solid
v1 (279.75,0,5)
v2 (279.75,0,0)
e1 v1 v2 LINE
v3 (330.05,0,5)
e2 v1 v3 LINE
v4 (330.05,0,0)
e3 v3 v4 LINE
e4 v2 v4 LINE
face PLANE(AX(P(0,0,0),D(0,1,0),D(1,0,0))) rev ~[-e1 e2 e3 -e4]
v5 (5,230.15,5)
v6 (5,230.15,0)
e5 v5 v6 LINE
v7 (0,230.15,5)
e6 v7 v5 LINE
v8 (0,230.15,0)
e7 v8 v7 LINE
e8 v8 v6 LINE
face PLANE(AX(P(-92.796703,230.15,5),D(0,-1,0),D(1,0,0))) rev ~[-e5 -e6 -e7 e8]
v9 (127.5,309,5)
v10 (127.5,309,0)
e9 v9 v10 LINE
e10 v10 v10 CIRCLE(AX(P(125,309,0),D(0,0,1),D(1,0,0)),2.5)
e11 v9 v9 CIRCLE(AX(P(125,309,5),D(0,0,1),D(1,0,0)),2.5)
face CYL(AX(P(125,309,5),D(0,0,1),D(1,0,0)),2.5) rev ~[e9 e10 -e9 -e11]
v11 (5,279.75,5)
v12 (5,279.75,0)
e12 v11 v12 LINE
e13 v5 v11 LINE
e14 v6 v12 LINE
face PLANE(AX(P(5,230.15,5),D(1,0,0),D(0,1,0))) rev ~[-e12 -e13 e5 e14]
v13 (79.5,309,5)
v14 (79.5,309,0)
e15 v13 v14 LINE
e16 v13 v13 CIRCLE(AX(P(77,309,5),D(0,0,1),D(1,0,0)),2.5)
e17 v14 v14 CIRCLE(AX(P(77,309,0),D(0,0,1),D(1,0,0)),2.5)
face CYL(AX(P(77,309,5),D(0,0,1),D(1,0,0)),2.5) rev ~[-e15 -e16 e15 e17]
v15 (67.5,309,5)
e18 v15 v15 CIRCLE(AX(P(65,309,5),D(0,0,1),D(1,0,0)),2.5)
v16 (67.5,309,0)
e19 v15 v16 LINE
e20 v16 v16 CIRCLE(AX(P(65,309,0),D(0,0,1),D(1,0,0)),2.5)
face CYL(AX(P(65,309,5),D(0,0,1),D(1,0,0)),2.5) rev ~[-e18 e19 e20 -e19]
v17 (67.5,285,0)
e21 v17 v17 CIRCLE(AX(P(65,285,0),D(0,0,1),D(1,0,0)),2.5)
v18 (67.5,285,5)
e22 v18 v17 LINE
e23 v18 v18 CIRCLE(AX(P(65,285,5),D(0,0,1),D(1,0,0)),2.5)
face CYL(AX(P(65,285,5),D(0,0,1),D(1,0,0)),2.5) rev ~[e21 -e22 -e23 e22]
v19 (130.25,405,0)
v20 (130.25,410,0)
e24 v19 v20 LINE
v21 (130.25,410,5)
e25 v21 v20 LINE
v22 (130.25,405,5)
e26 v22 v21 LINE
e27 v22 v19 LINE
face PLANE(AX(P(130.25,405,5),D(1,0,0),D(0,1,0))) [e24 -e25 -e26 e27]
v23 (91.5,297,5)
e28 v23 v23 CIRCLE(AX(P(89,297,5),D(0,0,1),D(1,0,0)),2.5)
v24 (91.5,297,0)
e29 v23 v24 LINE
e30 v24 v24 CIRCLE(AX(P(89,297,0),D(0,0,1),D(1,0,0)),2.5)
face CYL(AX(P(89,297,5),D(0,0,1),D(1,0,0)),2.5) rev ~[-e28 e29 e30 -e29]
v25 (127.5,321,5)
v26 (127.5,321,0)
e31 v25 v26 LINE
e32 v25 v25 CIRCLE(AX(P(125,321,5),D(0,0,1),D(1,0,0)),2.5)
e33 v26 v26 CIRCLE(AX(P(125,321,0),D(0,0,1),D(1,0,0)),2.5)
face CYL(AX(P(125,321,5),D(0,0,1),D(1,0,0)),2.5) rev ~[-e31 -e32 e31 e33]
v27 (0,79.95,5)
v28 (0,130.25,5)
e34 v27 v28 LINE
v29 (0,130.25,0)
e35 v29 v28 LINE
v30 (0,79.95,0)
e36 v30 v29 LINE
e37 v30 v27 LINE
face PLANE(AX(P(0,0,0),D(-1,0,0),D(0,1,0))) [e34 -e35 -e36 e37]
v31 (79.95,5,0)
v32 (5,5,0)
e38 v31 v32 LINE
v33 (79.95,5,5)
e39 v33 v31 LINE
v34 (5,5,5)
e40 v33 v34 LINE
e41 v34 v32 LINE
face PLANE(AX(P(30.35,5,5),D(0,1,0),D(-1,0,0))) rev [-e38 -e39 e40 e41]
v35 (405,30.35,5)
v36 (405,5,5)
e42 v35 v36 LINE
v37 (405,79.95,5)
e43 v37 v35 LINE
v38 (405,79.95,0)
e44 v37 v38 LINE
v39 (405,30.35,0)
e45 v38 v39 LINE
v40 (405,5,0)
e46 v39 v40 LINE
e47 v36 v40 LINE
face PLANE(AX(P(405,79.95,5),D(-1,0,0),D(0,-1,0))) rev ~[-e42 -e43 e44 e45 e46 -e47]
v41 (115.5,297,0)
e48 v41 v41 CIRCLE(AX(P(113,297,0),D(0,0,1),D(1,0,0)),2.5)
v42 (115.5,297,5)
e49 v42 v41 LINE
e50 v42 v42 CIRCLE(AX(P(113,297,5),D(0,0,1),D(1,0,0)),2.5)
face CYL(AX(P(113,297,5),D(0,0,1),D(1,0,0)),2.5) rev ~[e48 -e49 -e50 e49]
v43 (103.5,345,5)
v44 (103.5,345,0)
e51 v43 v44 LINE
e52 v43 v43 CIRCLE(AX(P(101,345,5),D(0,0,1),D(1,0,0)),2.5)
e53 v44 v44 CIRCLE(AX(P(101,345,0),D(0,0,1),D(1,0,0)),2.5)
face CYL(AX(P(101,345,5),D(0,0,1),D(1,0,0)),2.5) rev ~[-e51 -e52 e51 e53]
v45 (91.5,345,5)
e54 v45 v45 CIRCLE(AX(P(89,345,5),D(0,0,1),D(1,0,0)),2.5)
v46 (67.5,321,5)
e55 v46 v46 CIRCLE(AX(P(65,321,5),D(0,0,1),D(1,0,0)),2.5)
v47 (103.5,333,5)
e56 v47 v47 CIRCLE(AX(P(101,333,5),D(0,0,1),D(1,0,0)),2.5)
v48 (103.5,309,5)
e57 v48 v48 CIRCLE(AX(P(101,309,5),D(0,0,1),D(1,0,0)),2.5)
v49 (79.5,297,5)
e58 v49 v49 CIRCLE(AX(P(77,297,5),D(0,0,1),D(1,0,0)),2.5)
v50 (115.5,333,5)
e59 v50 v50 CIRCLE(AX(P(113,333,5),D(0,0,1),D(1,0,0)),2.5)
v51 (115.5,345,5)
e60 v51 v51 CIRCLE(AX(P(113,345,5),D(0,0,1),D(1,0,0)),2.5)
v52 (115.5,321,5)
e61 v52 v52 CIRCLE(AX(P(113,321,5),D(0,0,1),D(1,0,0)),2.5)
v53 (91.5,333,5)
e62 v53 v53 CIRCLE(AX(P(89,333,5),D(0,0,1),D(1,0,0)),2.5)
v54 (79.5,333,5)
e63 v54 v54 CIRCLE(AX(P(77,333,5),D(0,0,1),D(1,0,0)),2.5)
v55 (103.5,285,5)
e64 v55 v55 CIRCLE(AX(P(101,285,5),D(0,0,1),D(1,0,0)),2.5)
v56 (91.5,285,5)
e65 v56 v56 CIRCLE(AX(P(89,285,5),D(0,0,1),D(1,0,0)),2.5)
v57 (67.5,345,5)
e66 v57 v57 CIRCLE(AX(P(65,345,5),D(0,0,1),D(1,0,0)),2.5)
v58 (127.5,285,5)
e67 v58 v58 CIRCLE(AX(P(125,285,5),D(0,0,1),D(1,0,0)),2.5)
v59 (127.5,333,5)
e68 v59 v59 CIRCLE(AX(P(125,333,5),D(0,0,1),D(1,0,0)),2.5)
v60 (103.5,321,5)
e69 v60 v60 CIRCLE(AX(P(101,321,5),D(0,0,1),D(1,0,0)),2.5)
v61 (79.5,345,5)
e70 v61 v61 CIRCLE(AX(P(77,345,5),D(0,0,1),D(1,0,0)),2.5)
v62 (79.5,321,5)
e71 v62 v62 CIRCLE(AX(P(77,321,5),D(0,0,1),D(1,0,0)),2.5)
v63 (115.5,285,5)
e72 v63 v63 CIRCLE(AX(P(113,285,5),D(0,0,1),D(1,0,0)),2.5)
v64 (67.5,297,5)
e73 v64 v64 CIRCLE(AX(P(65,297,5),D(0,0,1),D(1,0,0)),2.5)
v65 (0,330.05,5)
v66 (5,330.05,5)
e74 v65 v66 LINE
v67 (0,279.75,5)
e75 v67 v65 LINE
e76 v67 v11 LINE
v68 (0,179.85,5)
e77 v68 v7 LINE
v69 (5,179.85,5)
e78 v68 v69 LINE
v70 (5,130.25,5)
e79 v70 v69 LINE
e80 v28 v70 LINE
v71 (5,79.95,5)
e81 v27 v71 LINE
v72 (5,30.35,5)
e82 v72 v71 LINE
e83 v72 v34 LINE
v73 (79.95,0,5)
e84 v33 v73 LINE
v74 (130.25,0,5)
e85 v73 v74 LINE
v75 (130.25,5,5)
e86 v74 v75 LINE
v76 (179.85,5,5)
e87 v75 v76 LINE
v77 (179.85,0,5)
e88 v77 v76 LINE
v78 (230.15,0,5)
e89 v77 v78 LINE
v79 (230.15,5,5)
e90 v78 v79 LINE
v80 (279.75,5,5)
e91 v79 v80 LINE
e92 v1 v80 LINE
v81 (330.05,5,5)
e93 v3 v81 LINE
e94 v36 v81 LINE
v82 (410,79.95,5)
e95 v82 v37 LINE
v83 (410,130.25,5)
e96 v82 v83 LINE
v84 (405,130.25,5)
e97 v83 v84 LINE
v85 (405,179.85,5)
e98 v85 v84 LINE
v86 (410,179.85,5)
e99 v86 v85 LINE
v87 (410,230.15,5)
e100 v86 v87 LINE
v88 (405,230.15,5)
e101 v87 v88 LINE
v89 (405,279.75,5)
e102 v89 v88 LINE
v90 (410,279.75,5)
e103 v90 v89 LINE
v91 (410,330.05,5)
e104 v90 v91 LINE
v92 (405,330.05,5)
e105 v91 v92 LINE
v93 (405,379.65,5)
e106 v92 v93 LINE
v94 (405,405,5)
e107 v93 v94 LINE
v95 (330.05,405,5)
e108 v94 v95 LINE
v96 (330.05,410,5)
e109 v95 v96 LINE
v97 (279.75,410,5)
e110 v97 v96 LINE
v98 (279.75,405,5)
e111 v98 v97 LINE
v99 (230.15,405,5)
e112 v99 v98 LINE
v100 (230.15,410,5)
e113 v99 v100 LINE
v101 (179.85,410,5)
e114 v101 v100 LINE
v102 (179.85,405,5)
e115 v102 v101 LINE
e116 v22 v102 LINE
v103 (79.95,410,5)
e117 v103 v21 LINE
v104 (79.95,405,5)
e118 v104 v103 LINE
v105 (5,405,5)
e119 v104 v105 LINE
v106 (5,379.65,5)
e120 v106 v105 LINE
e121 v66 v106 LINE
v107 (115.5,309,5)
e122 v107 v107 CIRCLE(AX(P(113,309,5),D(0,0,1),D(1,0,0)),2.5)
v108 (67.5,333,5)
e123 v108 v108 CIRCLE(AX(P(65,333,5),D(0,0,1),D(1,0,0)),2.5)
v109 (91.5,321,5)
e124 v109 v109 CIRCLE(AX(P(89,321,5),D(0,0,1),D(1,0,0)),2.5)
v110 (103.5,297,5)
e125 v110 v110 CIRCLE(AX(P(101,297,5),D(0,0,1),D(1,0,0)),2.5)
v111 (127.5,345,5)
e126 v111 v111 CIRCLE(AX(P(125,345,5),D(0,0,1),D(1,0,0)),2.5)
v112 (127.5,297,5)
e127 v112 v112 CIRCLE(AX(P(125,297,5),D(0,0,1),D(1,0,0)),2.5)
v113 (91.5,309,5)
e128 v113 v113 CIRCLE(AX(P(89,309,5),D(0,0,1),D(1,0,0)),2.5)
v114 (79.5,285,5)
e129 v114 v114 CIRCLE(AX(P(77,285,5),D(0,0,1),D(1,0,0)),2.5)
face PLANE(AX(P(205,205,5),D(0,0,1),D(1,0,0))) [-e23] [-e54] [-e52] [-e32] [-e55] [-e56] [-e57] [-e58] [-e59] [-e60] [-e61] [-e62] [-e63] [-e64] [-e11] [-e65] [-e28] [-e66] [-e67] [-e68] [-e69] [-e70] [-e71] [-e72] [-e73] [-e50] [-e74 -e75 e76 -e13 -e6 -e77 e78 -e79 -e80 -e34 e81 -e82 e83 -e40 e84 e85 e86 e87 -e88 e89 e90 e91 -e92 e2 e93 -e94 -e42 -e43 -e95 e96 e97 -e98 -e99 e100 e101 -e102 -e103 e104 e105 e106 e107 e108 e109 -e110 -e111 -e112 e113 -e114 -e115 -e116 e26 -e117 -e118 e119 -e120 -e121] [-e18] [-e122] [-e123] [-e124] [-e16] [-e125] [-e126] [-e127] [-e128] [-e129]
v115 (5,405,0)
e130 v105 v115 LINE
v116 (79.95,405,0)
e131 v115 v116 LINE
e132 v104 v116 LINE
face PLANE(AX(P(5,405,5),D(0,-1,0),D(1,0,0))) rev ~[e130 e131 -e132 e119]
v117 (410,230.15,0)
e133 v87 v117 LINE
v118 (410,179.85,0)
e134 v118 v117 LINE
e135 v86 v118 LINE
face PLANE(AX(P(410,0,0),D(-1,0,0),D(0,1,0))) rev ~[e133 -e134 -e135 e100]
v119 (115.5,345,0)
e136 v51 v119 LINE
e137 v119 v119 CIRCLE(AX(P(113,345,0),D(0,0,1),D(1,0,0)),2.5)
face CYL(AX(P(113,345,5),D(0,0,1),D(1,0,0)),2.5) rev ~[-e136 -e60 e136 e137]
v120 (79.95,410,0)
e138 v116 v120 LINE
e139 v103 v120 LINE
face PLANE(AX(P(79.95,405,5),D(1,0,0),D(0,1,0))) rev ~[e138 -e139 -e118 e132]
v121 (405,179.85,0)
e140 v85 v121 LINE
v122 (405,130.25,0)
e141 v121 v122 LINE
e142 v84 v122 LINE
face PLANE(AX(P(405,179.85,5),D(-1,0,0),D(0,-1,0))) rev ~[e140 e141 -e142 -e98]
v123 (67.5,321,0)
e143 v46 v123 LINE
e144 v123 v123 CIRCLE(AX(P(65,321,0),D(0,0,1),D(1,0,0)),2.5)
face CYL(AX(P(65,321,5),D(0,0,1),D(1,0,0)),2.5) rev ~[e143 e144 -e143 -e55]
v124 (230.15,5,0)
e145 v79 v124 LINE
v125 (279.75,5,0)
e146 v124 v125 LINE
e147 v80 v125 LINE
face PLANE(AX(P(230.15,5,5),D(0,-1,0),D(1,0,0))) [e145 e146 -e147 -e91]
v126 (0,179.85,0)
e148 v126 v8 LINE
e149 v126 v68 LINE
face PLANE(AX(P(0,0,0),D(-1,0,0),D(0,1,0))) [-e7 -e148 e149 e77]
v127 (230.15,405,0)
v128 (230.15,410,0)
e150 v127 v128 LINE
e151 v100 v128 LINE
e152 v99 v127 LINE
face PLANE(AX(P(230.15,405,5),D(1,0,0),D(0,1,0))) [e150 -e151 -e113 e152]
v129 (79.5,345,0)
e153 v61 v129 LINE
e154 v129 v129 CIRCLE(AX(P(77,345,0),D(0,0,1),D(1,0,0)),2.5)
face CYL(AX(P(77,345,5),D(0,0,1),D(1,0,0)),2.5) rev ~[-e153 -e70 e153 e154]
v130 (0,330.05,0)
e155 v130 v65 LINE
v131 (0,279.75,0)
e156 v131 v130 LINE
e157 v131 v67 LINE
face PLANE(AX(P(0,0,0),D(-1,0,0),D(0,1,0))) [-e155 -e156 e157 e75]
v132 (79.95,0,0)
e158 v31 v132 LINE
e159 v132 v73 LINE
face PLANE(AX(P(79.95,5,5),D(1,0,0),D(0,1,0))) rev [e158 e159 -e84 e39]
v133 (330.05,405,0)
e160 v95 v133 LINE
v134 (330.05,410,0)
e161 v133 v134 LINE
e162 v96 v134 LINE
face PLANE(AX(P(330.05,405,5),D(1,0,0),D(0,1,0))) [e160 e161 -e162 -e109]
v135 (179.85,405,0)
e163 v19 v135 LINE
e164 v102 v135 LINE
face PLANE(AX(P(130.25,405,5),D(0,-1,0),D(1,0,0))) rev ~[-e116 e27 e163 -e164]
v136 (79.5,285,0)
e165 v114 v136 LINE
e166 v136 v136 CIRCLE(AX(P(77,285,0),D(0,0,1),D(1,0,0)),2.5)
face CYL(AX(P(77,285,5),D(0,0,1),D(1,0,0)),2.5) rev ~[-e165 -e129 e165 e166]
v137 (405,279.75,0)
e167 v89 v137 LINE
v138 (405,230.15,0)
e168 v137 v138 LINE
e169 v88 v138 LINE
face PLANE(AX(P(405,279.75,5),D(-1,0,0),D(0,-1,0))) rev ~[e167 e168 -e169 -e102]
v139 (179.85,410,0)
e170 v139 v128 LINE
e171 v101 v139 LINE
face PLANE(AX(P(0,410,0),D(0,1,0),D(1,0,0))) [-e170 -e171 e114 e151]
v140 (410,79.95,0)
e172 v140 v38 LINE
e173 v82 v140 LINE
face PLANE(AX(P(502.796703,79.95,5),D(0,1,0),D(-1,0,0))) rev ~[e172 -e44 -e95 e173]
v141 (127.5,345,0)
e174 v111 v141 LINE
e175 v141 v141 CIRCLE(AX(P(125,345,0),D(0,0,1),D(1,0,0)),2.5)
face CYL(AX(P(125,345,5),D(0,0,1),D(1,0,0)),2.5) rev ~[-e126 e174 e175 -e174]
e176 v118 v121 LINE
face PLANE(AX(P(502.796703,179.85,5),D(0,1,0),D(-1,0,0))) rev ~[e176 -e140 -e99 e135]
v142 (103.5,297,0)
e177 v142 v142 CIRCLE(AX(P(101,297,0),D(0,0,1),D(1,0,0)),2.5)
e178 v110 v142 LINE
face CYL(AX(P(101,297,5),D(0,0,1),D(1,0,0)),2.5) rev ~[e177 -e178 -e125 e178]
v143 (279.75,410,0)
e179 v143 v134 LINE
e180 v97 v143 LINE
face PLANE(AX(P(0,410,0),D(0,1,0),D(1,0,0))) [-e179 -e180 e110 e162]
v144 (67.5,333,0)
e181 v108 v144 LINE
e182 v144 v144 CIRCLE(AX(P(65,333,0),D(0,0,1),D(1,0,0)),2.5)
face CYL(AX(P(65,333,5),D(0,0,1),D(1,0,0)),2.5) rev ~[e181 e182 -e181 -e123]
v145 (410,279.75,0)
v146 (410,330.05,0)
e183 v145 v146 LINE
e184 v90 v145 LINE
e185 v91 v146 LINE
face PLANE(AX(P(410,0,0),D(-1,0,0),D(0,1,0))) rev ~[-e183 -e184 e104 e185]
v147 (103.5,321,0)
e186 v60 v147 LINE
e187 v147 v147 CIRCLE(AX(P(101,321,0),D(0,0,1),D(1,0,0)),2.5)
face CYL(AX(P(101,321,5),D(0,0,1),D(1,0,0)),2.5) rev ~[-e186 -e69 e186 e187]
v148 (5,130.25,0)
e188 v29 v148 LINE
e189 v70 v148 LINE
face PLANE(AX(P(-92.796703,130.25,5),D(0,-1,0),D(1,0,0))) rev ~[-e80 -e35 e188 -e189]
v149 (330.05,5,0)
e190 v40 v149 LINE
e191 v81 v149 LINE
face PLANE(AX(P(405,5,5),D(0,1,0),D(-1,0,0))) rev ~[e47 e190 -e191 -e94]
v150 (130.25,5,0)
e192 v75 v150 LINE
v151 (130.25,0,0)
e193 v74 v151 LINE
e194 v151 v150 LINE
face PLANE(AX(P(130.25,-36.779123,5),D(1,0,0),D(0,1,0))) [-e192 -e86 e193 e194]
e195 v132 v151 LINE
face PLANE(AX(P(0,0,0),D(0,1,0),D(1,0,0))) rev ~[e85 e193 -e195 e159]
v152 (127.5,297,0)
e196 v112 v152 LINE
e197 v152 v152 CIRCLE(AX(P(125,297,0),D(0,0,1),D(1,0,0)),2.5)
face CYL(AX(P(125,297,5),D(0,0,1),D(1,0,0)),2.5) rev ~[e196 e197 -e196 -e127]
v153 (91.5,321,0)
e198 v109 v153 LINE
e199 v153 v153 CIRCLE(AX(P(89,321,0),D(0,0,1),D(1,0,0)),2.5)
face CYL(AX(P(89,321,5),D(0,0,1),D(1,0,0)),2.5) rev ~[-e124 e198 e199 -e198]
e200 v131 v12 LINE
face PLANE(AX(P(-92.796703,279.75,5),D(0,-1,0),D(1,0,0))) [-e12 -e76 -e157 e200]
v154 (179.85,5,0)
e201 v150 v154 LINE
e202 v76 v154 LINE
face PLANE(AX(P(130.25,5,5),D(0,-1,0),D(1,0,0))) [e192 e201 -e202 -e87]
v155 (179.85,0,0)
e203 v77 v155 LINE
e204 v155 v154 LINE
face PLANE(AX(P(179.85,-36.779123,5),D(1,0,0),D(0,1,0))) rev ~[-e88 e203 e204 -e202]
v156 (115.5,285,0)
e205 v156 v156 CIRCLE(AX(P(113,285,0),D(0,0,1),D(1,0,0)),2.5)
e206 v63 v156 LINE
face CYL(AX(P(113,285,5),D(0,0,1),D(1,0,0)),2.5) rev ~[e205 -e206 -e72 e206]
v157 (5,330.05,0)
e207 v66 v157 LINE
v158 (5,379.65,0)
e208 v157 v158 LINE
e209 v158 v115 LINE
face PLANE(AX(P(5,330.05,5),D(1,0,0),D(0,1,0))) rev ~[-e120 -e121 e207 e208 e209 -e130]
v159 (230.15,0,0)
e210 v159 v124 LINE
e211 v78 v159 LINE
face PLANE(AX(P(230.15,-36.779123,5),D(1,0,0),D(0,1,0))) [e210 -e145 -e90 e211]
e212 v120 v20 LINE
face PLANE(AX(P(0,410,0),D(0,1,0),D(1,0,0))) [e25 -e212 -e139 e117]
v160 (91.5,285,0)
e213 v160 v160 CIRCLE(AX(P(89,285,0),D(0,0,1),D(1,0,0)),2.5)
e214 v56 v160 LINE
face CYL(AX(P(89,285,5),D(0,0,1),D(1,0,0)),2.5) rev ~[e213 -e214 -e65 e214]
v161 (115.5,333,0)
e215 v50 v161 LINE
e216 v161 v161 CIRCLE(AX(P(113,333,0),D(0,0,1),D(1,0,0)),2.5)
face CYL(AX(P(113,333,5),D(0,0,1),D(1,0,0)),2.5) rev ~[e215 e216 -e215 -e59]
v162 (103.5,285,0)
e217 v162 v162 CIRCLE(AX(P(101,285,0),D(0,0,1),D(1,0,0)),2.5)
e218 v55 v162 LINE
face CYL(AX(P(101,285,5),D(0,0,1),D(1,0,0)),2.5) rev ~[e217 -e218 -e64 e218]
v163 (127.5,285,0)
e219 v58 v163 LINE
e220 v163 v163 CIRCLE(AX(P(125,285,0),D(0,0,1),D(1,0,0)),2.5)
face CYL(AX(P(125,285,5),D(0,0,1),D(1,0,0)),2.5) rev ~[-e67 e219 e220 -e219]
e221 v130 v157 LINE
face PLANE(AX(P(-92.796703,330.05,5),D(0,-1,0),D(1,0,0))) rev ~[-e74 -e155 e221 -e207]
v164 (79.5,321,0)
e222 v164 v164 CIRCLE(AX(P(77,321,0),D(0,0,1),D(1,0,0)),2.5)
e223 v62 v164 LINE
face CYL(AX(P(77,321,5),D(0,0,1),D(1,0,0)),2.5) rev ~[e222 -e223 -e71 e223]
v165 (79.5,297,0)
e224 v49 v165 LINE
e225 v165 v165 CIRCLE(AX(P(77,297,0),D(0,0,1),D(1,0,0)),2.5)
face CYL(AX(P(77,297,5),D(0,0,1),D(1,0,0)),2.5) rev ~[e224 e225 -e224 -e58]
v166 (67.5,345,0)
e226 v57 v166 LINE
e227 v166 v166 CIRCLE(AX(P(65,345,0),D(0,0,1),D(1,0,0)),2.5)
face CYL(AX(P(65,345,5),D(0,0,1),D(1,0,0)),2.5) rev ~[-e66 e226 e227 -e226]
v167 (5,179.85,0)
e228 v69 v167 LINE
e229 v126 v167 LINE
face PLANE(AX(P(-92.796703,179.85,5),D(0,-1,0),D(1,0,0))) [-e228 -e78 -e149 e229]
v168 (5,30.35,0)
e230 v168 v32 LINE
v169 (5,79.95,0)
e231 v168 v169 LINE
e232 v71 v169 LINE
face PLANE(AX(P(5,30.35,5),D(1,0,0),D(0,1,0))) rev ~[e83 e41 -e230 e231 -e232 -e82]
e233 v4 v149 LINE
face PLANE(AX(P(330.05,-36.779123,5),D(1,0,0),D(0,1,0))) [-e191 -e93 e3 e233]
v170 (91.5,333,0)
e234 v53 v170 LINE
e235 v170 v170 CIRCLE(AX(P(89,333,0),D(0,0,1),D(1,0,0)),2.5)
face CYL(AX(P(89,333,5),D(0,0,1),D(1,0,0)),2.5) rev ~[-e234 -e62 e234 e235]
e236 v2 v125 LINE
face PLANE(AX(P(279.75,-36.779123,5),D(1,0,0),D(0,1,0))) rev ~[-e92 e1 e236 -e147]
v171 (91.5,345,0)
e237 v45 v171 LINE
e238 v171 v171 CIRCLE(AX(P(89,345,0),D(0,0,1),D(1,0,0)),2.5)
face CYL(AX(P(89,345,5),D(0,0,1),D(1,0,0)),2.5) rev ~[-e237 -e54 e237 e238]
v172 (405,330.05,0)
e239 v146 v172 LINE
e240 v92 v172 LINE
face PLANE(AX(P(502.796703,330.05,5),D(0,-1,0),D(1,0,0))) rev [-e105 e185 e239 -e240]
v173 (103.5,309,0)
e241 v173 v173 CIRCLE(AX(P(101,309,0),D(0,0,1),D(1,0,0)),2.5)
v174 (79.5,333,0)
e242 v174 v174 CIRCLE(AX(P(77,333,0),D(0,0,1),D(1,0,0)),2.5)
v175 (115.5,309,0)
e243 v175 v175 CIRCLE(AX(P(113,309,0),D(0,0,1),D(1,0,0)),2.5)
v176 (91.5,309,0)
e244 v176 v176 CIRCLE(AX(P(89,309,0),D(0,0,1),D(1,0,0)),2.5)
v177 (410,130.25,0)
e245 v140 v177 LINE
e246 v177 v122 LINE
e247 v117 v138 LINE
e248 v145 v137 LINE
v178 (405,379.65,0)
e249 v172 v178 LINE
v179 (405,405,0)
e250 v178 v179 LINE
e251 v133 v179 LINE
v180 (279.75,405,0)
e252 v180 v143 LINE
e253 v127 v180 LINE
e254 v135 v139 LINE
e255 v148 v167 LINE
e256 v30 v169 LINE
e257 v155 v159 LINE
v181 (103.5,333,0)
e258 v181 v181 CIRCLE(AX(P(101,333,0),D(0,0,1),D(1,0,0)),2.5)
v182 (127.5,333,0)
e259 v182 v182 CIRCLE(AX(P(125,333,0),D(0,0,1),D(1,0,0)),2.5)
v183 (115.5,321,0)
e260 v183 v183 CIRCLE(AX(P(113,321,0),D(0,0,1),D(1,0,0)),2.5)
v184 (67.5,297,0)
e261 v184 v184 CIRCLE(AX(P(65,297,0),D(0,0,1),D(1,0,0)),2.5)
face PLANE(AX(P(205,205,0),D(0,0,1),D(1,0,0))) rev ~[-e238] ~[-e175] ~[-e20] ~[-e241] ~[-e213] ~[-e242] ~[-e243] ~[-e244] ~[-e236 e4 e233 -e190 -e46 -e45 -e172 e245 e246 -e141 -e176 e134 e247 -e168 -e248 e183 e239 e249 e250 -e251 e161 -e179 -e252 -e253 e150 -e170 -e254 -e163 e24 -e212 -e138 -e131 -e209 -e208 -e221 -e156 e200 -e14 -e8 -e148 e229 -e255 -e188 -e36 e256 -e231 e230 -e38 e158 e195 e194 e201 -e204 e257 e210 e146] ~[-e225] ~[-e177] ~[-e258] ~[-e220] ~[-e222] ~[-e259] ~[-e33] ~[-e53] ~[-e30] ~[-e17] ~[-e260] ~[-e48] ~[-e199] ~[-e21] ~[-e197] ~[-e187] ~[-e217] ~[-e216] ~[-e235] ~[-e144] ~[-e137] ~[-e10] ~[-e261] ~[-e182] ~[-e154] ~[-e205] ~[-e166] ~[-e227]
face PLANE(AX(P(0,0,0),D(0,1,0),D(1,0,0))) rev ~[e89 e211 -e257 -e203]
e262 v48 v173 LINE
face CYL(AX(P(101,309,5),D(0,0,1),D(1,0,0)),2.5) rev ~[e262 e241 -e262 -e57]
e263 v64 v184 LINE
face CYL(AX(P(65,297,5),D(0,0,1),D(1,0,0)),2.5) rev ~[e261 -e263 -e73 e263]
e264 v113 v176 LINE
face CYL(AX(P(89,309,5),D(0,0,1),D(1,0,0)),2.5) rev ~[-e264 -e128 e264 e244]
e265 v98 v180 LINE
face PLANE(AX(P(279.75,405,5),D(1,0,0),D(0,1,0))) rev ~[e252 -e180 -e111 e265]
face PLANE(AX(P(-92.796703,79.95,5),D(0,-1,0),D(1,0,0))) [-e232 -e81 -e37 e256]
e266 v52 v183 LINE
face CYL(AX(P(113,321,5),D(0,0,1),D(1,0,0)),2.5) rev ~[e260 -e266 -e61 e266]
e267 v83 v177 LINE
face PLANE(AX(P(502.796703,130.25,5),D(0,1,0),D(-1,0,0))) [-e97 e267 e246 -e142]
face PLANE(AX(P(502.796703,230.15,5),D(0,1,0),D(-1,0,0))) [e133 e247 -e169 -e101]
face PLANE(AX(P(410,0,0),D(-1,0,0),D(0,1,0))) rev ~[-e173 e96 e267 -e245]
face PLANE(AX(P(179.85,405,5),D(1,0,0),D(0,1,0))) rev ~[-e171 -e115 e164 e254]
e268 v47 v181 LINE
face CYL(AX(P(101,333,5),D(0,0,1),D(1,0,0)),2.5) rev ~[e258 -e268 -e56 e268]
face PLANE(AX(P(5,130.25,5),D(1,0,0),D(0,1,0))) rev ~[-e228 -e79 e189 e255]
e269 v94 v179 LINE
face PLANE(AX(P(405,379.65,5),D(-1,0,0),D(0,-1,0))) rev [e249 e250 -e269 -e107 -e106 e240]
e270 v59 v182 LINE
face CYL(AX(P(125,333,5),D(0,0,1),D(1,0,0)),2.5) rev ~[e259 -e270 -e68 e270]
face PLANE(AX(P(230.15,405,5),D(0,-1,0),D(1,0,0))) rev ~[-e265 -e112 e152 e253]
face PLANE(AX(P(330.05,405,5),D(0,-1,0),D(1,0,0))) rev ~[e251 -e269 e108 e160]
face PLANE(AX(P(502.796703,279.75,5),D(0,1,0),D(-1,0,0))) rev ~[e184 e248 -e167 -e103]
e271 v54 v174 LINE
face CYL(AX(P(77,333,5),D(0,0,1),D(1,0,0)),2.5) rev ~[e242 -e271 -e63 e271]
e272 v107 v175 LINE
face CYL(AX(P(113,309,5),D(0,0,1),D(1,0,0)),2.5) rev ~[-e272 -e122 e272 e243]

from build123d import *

# Parameters (mm, degrees)
SKIZZE1_W                       = 410
SKIZZE1_H                       = 410
AUFSATZ_LINEAR_AUSTRAGEN1_DEPTH = 5
SKIZZE2_W                       = 97.796702903
SKIZZE2_H                       = 49.6
SCHNITT_LINEAR_AUSTRAGEN1_DEPTH = 5
LINEARES_MUSTER1_COUNT          = 4
LINEARES_MUSTER1_PITCH          = 99.9
SPIEGELN1_COPY_1_SKETCH_W       = 97.796702903
SPIEGELN1_COPY_1_SKETCH_H       = 49.6
SPIEGELN1_COPY_1_DEPTH          = 5
SPIEGELN1_COPY_2_SKETCH_W       = 97.796702903
SPIEGELN1_COPY_2_SKETCH_H       = 49.6
SPIEGELN1_COPY_2_DEPTH          = 5
SPIEGELN1_COPY_3_SKETCH_W       = 97.796702903
SPIEGELN1_COPY_3_SKETCH_H       = 49.6
SPIEGELN1_COPY_3_DEPTH          = 5
SKIZZE3_W                       = 49.6
SKIZZE3_H                       = 41.77912255
SCHNITT_LINEAR_AUSTRAGEN2_DEPTH = 5
LINEARES_MUSTER2_COUNT          = 4
LINEARES_MUSTER2_PITCH          = 99.9
SPIEGELN2_COPY_1_SKETCH_W       = 49.6
SPIEGELN2_COPY_1_SKETCH_H       = 41.77912255
SPIEGELN2_COPY_1_DEPTH          = 5
SPIEGELN2_COPY_2_SKETCH_W       = 49.6
SPIEGELN2_COPY_2_SKETCH_H       = 41.77912255
SPIEGELN2_COPY_2_DEPTH          = 5
SPIEGELN2_COPY_3_SKETCH_W       = 49.6
SPIEGELN2_COPY_3_SKETCH_H       = 41.77912255
SPIEGELN2_COPY_3_DEPTH          = 5
SCHNITT_LINEAR_AUSTRAGEN3_DEPTH = 5
SPIEGELN4_COPY_1_DEPTH          = 5
SKIZZE5_R                       = 2.5
SCHNITT_LINEAR_AUSTRAGEN4_DEPTH = 10
LINEARES_MUSTER3_COUNT          = 6
LINEARES_MUSTER3_PITCH          = 12
LINEARES_MUSTER3_COUNT_DIR2     = 6
LINEARES_MUSTER3_PITCH_DIR2     = 12


with BuildPart() as part:
    # Skizze1 → Aufsatz-Linear austragen1 (new body)
    with BuildSketch(Plane.XY):
        with Locations((205, 205)):
            Rectangle(SKIZZE1_W, SKIZZE1_H)
    extrude(amount=AUFSATZ_LINEAR_AUSTRAGEN1_DEPTH)

    # Skizze2 → Schnitt-Linear austragen1 (cut)
    with BuildSketch(Plane.XY.offset(5)):
        with Locations((-43.898351452, 354.85)):
            Rectangle(SKIZZE2_W, SKIZZE2_H)
    schnitt_linear_austragen1 = extrude(amount=-SCHNITT_LINEAR_AUSTRAGEN1_DEPTH, mode=Mode.SUBTRACT)

    # Lineares Muster1: Schnitt-Linear austragen1 ×4
    with Locations(*[(0, -i * LINEARES_MUSTER1_PITCH, 0) for i in range(1, LINEARES_MUSTER1_COUNT)]):
        add(schnitt_linear_austragen1, mode=Mode.SUBTRACT)

    # Spiegeln1: Schnitt-Linear austragen1 across plane
    add(schnitt_linear_austragen1.mirror(Plane(origin=(205, 0, 0), x_dir=(0, 0, 1), z_dir=(1, 0, 0))), mode=Mode.SUBTRACT)

    # Spiegeln1 copy 1 sketch → Spiegeln1 copy 1 (cut)
    with BuildSketch(Plane(origin=(410, -99.9, 5), x_dir=(-1, 0, 0), z_dir=(0, 0, 1))):
        with Locations((-43.898351452, -354.85)):
            Rectangle(SPIEGELN1_COPY_1_SKETCH_W, SPIEGELN1_COPY_1_SKETCH_H)
    extrude(amount=-SPIEGELN1_COPY_1_DEPTH, mode=Mode.SUBTRACT)

    # Spiegeln1 copy 2 sketch → Spiegeln1 copy 2 (cut)
    with BuildSketch(Plane(origin=(410, -199.8, 5), x_dir=(-1, 0, 0), z_dir=(0, 0, 1))):
        with Locations((-43.898351452, -354.85)):
            Rectangle(SPIEGELN1_COPY_2_SKETCH_W, SPIEGELN1_COPY_2_SKETCH_H)
    extrude(amount=-SPIEGELN1_COPY_2_DEPTH, mode=Mode.SUBTRACT)

    # Spiegeln1 copy 3 sketch → Spiegeln1 copy 3 (cut)
    with BuildSketch(Plane(origin=(410, -299.7, 5), x_dir=(-1, 0, 0), z_dir=(0, 0, 1))):
        with Locations((-43.898351452, -354.85)):
            Rectangle(SPIEGELN1_COPY_3_SKETCH_W, SPIEGELN1_COPY_3_SKETCH_H)
    extrude(amount=-SPIEGELN1_COPY_3_DEPTH, mode=Mode.SUBTRACT)

    # Skizze3 → Schnitt-Linear austragen2 (cut)
    with BuildSketch(Plane.XY.offset(5)):
        with Locations((55.15, 425.889561275)):
            Rectangle(SKIZZE3_W, SKIZZE3_H)
    schnitt_linear_austragen2 = extrude(amount=-SCHNITT_LINEAR_AUSTRAGEN2_DEPTH, mode=Mode.SUBTRACT)

    # Lineares Muster2: Schnitt-Linear austragen2 ×4
    with Locations(*[(i * LINEARES_MUSTER2_PITCH, 0, 0) for i in range(1, LINEARES_MUSTER2_COUNT)]):
        add(schnitt_linear_austragen2, mode=Mode.SUBTRACT)

    # Spiegeln2: Schnitt-Linear austragen2 across plane
    add(schnitt_linear_austragen2.mirror(Plane.ZX.offset(205)), mode=Mode.SUBTRACT)

    # Spiegeln2 copy 1 sketch → Spiegeln2 copy 1 (cut)
    with BuildSketch(Plane(origin=(99.9, 410, 5), x_dir=(1, 0, 0), z_dir=(0, 0, 1))):
        with Locations((55.15, -425.889561275)):
            Rectangle(SPIEGELN2_COPY_1_SKETCH_W, SPIEGELN2_COPY_1_SKETCH_H)
    extrude(amount=-SPIEGELN2_COPY_1_DEPTH, mode=Mode.SUBTRACT)

    # Spiegeln2 copy 2 sketch → Spiegeln2 copy 2 (cut)
    with BuildSketch(Plane(origin=(199.8, 410, 5), x_dir=(1, 0, 0), z_dir=(0, 0, 1))):
        with Locations((55.15, -425.889561275)):
            Rectangle(SPIEGELN2_COPY_2_SKETCH_W, SPIEGELN2_COPY_2_SKETCH_H)
    extrude(amount=-SPIEGELN2_COPY_2_DEPTH, mode=Mode.SUBTRACT)

    # Spiegeln2 copy 3 sketch → Spiegeln2 copy 3 (cut)
    with BuildSketch(Plane(origin=(299.7, 410, 5), x_dir=(1, 0, 0), z_dir=(0, 0, 1))):
        with Locations((55.15, -425.889561275)):
            Rectangle(SPIEGELN2_COPY_3_SKETCH_W, SPIEGELN2_COPY_3_SKETCH_H)
    extrude(amount=-SPIEGELN2_COPY_3_DEPTH, mode=Mode.SUBTRACT)

    # Skizze4 → Schnitt-Linear austragen3 (cut)
    with BuildSketch(Plane.XY.offset(5)):
        Polygon((5, 379.65), (5, 405), (30.35, 405), (30.35, 431.549801047), (5, 431.549801047), (-47.862925009, 431.549801047), (-47.862925009, 405), (-47.862925009, 379.65), align=None)
    schnitt_linear_austragen3 = extrude(amount=-SCHNITT_LINEAR_AUSTRAGEN3_DEPTH, mode=Mode.SUBTRACT)

    # Spiegeln3: Schnitt-Linear austragen3 across plane
    add(schnitt_linear_austragen3.mirror(Plane(origin=(205, 0, 0), x_dir=(0, 0, 1), z_dir=(1, 0, 0))), mode=Mode.SUBTRACT)

    # Spiegeln4: Schnitt-Linear austragen3 across plane
    add(schnitt_linear_austragen3.mirror(Plane.ZX.offset(205)), mode=Mode.SUBTRACT)

    # Spiegeln4 copy 1 sketch → Spiegeln4 copy 1 (cut)
    with BuildSketch(Plane(origin=(410, 410, 5), x_dir=(-1, 0, 0), z_dir=(0, 0, 1))):
        Polygon((5, 379.65), (5, 405), (30.35, 405), (30.35, 431.549801047), (5, 431.549801047), (-47.862925009, 431.549801047), (-47.862925009, 405), (-47.862925009, 379.65), align=None)
    extrude(amount=-SPIEGELN4_COPY_1_DEPTH, mode=Mode.SUBTRACT)

    # Skizze5 → Schnitt-Linear austragen4 (cut)
    with BuildSketch(Plane.XY.offset(5)):
        with Locations((125, 285)):
            Circle(SKIZZE5_R)
    schnitt_linear_austragen4 = extrude(amount=-SCHNITT_LINEAR_AUSTRAGEN4_DEPTH, mode=Mode.SUBTRACT)

    # Lineares Muster3: Schnitt-Linear austragen4 6 × 6
    with Locations(*[(-j * LINEARES_MUSTER3_PITCH_DIR2, i * LINEARES_MUSTER3_PITCH, 0) for i in range(LINEARES_MUSTER3_COUNT) for j in range(LINEARES_MUSTER3_COUNT_DIR2) if (i, j) != (0, 0)]):
        add(schnitt_linear_austragen4, mode=Mode.SUBTRACT)


solid = part.part
